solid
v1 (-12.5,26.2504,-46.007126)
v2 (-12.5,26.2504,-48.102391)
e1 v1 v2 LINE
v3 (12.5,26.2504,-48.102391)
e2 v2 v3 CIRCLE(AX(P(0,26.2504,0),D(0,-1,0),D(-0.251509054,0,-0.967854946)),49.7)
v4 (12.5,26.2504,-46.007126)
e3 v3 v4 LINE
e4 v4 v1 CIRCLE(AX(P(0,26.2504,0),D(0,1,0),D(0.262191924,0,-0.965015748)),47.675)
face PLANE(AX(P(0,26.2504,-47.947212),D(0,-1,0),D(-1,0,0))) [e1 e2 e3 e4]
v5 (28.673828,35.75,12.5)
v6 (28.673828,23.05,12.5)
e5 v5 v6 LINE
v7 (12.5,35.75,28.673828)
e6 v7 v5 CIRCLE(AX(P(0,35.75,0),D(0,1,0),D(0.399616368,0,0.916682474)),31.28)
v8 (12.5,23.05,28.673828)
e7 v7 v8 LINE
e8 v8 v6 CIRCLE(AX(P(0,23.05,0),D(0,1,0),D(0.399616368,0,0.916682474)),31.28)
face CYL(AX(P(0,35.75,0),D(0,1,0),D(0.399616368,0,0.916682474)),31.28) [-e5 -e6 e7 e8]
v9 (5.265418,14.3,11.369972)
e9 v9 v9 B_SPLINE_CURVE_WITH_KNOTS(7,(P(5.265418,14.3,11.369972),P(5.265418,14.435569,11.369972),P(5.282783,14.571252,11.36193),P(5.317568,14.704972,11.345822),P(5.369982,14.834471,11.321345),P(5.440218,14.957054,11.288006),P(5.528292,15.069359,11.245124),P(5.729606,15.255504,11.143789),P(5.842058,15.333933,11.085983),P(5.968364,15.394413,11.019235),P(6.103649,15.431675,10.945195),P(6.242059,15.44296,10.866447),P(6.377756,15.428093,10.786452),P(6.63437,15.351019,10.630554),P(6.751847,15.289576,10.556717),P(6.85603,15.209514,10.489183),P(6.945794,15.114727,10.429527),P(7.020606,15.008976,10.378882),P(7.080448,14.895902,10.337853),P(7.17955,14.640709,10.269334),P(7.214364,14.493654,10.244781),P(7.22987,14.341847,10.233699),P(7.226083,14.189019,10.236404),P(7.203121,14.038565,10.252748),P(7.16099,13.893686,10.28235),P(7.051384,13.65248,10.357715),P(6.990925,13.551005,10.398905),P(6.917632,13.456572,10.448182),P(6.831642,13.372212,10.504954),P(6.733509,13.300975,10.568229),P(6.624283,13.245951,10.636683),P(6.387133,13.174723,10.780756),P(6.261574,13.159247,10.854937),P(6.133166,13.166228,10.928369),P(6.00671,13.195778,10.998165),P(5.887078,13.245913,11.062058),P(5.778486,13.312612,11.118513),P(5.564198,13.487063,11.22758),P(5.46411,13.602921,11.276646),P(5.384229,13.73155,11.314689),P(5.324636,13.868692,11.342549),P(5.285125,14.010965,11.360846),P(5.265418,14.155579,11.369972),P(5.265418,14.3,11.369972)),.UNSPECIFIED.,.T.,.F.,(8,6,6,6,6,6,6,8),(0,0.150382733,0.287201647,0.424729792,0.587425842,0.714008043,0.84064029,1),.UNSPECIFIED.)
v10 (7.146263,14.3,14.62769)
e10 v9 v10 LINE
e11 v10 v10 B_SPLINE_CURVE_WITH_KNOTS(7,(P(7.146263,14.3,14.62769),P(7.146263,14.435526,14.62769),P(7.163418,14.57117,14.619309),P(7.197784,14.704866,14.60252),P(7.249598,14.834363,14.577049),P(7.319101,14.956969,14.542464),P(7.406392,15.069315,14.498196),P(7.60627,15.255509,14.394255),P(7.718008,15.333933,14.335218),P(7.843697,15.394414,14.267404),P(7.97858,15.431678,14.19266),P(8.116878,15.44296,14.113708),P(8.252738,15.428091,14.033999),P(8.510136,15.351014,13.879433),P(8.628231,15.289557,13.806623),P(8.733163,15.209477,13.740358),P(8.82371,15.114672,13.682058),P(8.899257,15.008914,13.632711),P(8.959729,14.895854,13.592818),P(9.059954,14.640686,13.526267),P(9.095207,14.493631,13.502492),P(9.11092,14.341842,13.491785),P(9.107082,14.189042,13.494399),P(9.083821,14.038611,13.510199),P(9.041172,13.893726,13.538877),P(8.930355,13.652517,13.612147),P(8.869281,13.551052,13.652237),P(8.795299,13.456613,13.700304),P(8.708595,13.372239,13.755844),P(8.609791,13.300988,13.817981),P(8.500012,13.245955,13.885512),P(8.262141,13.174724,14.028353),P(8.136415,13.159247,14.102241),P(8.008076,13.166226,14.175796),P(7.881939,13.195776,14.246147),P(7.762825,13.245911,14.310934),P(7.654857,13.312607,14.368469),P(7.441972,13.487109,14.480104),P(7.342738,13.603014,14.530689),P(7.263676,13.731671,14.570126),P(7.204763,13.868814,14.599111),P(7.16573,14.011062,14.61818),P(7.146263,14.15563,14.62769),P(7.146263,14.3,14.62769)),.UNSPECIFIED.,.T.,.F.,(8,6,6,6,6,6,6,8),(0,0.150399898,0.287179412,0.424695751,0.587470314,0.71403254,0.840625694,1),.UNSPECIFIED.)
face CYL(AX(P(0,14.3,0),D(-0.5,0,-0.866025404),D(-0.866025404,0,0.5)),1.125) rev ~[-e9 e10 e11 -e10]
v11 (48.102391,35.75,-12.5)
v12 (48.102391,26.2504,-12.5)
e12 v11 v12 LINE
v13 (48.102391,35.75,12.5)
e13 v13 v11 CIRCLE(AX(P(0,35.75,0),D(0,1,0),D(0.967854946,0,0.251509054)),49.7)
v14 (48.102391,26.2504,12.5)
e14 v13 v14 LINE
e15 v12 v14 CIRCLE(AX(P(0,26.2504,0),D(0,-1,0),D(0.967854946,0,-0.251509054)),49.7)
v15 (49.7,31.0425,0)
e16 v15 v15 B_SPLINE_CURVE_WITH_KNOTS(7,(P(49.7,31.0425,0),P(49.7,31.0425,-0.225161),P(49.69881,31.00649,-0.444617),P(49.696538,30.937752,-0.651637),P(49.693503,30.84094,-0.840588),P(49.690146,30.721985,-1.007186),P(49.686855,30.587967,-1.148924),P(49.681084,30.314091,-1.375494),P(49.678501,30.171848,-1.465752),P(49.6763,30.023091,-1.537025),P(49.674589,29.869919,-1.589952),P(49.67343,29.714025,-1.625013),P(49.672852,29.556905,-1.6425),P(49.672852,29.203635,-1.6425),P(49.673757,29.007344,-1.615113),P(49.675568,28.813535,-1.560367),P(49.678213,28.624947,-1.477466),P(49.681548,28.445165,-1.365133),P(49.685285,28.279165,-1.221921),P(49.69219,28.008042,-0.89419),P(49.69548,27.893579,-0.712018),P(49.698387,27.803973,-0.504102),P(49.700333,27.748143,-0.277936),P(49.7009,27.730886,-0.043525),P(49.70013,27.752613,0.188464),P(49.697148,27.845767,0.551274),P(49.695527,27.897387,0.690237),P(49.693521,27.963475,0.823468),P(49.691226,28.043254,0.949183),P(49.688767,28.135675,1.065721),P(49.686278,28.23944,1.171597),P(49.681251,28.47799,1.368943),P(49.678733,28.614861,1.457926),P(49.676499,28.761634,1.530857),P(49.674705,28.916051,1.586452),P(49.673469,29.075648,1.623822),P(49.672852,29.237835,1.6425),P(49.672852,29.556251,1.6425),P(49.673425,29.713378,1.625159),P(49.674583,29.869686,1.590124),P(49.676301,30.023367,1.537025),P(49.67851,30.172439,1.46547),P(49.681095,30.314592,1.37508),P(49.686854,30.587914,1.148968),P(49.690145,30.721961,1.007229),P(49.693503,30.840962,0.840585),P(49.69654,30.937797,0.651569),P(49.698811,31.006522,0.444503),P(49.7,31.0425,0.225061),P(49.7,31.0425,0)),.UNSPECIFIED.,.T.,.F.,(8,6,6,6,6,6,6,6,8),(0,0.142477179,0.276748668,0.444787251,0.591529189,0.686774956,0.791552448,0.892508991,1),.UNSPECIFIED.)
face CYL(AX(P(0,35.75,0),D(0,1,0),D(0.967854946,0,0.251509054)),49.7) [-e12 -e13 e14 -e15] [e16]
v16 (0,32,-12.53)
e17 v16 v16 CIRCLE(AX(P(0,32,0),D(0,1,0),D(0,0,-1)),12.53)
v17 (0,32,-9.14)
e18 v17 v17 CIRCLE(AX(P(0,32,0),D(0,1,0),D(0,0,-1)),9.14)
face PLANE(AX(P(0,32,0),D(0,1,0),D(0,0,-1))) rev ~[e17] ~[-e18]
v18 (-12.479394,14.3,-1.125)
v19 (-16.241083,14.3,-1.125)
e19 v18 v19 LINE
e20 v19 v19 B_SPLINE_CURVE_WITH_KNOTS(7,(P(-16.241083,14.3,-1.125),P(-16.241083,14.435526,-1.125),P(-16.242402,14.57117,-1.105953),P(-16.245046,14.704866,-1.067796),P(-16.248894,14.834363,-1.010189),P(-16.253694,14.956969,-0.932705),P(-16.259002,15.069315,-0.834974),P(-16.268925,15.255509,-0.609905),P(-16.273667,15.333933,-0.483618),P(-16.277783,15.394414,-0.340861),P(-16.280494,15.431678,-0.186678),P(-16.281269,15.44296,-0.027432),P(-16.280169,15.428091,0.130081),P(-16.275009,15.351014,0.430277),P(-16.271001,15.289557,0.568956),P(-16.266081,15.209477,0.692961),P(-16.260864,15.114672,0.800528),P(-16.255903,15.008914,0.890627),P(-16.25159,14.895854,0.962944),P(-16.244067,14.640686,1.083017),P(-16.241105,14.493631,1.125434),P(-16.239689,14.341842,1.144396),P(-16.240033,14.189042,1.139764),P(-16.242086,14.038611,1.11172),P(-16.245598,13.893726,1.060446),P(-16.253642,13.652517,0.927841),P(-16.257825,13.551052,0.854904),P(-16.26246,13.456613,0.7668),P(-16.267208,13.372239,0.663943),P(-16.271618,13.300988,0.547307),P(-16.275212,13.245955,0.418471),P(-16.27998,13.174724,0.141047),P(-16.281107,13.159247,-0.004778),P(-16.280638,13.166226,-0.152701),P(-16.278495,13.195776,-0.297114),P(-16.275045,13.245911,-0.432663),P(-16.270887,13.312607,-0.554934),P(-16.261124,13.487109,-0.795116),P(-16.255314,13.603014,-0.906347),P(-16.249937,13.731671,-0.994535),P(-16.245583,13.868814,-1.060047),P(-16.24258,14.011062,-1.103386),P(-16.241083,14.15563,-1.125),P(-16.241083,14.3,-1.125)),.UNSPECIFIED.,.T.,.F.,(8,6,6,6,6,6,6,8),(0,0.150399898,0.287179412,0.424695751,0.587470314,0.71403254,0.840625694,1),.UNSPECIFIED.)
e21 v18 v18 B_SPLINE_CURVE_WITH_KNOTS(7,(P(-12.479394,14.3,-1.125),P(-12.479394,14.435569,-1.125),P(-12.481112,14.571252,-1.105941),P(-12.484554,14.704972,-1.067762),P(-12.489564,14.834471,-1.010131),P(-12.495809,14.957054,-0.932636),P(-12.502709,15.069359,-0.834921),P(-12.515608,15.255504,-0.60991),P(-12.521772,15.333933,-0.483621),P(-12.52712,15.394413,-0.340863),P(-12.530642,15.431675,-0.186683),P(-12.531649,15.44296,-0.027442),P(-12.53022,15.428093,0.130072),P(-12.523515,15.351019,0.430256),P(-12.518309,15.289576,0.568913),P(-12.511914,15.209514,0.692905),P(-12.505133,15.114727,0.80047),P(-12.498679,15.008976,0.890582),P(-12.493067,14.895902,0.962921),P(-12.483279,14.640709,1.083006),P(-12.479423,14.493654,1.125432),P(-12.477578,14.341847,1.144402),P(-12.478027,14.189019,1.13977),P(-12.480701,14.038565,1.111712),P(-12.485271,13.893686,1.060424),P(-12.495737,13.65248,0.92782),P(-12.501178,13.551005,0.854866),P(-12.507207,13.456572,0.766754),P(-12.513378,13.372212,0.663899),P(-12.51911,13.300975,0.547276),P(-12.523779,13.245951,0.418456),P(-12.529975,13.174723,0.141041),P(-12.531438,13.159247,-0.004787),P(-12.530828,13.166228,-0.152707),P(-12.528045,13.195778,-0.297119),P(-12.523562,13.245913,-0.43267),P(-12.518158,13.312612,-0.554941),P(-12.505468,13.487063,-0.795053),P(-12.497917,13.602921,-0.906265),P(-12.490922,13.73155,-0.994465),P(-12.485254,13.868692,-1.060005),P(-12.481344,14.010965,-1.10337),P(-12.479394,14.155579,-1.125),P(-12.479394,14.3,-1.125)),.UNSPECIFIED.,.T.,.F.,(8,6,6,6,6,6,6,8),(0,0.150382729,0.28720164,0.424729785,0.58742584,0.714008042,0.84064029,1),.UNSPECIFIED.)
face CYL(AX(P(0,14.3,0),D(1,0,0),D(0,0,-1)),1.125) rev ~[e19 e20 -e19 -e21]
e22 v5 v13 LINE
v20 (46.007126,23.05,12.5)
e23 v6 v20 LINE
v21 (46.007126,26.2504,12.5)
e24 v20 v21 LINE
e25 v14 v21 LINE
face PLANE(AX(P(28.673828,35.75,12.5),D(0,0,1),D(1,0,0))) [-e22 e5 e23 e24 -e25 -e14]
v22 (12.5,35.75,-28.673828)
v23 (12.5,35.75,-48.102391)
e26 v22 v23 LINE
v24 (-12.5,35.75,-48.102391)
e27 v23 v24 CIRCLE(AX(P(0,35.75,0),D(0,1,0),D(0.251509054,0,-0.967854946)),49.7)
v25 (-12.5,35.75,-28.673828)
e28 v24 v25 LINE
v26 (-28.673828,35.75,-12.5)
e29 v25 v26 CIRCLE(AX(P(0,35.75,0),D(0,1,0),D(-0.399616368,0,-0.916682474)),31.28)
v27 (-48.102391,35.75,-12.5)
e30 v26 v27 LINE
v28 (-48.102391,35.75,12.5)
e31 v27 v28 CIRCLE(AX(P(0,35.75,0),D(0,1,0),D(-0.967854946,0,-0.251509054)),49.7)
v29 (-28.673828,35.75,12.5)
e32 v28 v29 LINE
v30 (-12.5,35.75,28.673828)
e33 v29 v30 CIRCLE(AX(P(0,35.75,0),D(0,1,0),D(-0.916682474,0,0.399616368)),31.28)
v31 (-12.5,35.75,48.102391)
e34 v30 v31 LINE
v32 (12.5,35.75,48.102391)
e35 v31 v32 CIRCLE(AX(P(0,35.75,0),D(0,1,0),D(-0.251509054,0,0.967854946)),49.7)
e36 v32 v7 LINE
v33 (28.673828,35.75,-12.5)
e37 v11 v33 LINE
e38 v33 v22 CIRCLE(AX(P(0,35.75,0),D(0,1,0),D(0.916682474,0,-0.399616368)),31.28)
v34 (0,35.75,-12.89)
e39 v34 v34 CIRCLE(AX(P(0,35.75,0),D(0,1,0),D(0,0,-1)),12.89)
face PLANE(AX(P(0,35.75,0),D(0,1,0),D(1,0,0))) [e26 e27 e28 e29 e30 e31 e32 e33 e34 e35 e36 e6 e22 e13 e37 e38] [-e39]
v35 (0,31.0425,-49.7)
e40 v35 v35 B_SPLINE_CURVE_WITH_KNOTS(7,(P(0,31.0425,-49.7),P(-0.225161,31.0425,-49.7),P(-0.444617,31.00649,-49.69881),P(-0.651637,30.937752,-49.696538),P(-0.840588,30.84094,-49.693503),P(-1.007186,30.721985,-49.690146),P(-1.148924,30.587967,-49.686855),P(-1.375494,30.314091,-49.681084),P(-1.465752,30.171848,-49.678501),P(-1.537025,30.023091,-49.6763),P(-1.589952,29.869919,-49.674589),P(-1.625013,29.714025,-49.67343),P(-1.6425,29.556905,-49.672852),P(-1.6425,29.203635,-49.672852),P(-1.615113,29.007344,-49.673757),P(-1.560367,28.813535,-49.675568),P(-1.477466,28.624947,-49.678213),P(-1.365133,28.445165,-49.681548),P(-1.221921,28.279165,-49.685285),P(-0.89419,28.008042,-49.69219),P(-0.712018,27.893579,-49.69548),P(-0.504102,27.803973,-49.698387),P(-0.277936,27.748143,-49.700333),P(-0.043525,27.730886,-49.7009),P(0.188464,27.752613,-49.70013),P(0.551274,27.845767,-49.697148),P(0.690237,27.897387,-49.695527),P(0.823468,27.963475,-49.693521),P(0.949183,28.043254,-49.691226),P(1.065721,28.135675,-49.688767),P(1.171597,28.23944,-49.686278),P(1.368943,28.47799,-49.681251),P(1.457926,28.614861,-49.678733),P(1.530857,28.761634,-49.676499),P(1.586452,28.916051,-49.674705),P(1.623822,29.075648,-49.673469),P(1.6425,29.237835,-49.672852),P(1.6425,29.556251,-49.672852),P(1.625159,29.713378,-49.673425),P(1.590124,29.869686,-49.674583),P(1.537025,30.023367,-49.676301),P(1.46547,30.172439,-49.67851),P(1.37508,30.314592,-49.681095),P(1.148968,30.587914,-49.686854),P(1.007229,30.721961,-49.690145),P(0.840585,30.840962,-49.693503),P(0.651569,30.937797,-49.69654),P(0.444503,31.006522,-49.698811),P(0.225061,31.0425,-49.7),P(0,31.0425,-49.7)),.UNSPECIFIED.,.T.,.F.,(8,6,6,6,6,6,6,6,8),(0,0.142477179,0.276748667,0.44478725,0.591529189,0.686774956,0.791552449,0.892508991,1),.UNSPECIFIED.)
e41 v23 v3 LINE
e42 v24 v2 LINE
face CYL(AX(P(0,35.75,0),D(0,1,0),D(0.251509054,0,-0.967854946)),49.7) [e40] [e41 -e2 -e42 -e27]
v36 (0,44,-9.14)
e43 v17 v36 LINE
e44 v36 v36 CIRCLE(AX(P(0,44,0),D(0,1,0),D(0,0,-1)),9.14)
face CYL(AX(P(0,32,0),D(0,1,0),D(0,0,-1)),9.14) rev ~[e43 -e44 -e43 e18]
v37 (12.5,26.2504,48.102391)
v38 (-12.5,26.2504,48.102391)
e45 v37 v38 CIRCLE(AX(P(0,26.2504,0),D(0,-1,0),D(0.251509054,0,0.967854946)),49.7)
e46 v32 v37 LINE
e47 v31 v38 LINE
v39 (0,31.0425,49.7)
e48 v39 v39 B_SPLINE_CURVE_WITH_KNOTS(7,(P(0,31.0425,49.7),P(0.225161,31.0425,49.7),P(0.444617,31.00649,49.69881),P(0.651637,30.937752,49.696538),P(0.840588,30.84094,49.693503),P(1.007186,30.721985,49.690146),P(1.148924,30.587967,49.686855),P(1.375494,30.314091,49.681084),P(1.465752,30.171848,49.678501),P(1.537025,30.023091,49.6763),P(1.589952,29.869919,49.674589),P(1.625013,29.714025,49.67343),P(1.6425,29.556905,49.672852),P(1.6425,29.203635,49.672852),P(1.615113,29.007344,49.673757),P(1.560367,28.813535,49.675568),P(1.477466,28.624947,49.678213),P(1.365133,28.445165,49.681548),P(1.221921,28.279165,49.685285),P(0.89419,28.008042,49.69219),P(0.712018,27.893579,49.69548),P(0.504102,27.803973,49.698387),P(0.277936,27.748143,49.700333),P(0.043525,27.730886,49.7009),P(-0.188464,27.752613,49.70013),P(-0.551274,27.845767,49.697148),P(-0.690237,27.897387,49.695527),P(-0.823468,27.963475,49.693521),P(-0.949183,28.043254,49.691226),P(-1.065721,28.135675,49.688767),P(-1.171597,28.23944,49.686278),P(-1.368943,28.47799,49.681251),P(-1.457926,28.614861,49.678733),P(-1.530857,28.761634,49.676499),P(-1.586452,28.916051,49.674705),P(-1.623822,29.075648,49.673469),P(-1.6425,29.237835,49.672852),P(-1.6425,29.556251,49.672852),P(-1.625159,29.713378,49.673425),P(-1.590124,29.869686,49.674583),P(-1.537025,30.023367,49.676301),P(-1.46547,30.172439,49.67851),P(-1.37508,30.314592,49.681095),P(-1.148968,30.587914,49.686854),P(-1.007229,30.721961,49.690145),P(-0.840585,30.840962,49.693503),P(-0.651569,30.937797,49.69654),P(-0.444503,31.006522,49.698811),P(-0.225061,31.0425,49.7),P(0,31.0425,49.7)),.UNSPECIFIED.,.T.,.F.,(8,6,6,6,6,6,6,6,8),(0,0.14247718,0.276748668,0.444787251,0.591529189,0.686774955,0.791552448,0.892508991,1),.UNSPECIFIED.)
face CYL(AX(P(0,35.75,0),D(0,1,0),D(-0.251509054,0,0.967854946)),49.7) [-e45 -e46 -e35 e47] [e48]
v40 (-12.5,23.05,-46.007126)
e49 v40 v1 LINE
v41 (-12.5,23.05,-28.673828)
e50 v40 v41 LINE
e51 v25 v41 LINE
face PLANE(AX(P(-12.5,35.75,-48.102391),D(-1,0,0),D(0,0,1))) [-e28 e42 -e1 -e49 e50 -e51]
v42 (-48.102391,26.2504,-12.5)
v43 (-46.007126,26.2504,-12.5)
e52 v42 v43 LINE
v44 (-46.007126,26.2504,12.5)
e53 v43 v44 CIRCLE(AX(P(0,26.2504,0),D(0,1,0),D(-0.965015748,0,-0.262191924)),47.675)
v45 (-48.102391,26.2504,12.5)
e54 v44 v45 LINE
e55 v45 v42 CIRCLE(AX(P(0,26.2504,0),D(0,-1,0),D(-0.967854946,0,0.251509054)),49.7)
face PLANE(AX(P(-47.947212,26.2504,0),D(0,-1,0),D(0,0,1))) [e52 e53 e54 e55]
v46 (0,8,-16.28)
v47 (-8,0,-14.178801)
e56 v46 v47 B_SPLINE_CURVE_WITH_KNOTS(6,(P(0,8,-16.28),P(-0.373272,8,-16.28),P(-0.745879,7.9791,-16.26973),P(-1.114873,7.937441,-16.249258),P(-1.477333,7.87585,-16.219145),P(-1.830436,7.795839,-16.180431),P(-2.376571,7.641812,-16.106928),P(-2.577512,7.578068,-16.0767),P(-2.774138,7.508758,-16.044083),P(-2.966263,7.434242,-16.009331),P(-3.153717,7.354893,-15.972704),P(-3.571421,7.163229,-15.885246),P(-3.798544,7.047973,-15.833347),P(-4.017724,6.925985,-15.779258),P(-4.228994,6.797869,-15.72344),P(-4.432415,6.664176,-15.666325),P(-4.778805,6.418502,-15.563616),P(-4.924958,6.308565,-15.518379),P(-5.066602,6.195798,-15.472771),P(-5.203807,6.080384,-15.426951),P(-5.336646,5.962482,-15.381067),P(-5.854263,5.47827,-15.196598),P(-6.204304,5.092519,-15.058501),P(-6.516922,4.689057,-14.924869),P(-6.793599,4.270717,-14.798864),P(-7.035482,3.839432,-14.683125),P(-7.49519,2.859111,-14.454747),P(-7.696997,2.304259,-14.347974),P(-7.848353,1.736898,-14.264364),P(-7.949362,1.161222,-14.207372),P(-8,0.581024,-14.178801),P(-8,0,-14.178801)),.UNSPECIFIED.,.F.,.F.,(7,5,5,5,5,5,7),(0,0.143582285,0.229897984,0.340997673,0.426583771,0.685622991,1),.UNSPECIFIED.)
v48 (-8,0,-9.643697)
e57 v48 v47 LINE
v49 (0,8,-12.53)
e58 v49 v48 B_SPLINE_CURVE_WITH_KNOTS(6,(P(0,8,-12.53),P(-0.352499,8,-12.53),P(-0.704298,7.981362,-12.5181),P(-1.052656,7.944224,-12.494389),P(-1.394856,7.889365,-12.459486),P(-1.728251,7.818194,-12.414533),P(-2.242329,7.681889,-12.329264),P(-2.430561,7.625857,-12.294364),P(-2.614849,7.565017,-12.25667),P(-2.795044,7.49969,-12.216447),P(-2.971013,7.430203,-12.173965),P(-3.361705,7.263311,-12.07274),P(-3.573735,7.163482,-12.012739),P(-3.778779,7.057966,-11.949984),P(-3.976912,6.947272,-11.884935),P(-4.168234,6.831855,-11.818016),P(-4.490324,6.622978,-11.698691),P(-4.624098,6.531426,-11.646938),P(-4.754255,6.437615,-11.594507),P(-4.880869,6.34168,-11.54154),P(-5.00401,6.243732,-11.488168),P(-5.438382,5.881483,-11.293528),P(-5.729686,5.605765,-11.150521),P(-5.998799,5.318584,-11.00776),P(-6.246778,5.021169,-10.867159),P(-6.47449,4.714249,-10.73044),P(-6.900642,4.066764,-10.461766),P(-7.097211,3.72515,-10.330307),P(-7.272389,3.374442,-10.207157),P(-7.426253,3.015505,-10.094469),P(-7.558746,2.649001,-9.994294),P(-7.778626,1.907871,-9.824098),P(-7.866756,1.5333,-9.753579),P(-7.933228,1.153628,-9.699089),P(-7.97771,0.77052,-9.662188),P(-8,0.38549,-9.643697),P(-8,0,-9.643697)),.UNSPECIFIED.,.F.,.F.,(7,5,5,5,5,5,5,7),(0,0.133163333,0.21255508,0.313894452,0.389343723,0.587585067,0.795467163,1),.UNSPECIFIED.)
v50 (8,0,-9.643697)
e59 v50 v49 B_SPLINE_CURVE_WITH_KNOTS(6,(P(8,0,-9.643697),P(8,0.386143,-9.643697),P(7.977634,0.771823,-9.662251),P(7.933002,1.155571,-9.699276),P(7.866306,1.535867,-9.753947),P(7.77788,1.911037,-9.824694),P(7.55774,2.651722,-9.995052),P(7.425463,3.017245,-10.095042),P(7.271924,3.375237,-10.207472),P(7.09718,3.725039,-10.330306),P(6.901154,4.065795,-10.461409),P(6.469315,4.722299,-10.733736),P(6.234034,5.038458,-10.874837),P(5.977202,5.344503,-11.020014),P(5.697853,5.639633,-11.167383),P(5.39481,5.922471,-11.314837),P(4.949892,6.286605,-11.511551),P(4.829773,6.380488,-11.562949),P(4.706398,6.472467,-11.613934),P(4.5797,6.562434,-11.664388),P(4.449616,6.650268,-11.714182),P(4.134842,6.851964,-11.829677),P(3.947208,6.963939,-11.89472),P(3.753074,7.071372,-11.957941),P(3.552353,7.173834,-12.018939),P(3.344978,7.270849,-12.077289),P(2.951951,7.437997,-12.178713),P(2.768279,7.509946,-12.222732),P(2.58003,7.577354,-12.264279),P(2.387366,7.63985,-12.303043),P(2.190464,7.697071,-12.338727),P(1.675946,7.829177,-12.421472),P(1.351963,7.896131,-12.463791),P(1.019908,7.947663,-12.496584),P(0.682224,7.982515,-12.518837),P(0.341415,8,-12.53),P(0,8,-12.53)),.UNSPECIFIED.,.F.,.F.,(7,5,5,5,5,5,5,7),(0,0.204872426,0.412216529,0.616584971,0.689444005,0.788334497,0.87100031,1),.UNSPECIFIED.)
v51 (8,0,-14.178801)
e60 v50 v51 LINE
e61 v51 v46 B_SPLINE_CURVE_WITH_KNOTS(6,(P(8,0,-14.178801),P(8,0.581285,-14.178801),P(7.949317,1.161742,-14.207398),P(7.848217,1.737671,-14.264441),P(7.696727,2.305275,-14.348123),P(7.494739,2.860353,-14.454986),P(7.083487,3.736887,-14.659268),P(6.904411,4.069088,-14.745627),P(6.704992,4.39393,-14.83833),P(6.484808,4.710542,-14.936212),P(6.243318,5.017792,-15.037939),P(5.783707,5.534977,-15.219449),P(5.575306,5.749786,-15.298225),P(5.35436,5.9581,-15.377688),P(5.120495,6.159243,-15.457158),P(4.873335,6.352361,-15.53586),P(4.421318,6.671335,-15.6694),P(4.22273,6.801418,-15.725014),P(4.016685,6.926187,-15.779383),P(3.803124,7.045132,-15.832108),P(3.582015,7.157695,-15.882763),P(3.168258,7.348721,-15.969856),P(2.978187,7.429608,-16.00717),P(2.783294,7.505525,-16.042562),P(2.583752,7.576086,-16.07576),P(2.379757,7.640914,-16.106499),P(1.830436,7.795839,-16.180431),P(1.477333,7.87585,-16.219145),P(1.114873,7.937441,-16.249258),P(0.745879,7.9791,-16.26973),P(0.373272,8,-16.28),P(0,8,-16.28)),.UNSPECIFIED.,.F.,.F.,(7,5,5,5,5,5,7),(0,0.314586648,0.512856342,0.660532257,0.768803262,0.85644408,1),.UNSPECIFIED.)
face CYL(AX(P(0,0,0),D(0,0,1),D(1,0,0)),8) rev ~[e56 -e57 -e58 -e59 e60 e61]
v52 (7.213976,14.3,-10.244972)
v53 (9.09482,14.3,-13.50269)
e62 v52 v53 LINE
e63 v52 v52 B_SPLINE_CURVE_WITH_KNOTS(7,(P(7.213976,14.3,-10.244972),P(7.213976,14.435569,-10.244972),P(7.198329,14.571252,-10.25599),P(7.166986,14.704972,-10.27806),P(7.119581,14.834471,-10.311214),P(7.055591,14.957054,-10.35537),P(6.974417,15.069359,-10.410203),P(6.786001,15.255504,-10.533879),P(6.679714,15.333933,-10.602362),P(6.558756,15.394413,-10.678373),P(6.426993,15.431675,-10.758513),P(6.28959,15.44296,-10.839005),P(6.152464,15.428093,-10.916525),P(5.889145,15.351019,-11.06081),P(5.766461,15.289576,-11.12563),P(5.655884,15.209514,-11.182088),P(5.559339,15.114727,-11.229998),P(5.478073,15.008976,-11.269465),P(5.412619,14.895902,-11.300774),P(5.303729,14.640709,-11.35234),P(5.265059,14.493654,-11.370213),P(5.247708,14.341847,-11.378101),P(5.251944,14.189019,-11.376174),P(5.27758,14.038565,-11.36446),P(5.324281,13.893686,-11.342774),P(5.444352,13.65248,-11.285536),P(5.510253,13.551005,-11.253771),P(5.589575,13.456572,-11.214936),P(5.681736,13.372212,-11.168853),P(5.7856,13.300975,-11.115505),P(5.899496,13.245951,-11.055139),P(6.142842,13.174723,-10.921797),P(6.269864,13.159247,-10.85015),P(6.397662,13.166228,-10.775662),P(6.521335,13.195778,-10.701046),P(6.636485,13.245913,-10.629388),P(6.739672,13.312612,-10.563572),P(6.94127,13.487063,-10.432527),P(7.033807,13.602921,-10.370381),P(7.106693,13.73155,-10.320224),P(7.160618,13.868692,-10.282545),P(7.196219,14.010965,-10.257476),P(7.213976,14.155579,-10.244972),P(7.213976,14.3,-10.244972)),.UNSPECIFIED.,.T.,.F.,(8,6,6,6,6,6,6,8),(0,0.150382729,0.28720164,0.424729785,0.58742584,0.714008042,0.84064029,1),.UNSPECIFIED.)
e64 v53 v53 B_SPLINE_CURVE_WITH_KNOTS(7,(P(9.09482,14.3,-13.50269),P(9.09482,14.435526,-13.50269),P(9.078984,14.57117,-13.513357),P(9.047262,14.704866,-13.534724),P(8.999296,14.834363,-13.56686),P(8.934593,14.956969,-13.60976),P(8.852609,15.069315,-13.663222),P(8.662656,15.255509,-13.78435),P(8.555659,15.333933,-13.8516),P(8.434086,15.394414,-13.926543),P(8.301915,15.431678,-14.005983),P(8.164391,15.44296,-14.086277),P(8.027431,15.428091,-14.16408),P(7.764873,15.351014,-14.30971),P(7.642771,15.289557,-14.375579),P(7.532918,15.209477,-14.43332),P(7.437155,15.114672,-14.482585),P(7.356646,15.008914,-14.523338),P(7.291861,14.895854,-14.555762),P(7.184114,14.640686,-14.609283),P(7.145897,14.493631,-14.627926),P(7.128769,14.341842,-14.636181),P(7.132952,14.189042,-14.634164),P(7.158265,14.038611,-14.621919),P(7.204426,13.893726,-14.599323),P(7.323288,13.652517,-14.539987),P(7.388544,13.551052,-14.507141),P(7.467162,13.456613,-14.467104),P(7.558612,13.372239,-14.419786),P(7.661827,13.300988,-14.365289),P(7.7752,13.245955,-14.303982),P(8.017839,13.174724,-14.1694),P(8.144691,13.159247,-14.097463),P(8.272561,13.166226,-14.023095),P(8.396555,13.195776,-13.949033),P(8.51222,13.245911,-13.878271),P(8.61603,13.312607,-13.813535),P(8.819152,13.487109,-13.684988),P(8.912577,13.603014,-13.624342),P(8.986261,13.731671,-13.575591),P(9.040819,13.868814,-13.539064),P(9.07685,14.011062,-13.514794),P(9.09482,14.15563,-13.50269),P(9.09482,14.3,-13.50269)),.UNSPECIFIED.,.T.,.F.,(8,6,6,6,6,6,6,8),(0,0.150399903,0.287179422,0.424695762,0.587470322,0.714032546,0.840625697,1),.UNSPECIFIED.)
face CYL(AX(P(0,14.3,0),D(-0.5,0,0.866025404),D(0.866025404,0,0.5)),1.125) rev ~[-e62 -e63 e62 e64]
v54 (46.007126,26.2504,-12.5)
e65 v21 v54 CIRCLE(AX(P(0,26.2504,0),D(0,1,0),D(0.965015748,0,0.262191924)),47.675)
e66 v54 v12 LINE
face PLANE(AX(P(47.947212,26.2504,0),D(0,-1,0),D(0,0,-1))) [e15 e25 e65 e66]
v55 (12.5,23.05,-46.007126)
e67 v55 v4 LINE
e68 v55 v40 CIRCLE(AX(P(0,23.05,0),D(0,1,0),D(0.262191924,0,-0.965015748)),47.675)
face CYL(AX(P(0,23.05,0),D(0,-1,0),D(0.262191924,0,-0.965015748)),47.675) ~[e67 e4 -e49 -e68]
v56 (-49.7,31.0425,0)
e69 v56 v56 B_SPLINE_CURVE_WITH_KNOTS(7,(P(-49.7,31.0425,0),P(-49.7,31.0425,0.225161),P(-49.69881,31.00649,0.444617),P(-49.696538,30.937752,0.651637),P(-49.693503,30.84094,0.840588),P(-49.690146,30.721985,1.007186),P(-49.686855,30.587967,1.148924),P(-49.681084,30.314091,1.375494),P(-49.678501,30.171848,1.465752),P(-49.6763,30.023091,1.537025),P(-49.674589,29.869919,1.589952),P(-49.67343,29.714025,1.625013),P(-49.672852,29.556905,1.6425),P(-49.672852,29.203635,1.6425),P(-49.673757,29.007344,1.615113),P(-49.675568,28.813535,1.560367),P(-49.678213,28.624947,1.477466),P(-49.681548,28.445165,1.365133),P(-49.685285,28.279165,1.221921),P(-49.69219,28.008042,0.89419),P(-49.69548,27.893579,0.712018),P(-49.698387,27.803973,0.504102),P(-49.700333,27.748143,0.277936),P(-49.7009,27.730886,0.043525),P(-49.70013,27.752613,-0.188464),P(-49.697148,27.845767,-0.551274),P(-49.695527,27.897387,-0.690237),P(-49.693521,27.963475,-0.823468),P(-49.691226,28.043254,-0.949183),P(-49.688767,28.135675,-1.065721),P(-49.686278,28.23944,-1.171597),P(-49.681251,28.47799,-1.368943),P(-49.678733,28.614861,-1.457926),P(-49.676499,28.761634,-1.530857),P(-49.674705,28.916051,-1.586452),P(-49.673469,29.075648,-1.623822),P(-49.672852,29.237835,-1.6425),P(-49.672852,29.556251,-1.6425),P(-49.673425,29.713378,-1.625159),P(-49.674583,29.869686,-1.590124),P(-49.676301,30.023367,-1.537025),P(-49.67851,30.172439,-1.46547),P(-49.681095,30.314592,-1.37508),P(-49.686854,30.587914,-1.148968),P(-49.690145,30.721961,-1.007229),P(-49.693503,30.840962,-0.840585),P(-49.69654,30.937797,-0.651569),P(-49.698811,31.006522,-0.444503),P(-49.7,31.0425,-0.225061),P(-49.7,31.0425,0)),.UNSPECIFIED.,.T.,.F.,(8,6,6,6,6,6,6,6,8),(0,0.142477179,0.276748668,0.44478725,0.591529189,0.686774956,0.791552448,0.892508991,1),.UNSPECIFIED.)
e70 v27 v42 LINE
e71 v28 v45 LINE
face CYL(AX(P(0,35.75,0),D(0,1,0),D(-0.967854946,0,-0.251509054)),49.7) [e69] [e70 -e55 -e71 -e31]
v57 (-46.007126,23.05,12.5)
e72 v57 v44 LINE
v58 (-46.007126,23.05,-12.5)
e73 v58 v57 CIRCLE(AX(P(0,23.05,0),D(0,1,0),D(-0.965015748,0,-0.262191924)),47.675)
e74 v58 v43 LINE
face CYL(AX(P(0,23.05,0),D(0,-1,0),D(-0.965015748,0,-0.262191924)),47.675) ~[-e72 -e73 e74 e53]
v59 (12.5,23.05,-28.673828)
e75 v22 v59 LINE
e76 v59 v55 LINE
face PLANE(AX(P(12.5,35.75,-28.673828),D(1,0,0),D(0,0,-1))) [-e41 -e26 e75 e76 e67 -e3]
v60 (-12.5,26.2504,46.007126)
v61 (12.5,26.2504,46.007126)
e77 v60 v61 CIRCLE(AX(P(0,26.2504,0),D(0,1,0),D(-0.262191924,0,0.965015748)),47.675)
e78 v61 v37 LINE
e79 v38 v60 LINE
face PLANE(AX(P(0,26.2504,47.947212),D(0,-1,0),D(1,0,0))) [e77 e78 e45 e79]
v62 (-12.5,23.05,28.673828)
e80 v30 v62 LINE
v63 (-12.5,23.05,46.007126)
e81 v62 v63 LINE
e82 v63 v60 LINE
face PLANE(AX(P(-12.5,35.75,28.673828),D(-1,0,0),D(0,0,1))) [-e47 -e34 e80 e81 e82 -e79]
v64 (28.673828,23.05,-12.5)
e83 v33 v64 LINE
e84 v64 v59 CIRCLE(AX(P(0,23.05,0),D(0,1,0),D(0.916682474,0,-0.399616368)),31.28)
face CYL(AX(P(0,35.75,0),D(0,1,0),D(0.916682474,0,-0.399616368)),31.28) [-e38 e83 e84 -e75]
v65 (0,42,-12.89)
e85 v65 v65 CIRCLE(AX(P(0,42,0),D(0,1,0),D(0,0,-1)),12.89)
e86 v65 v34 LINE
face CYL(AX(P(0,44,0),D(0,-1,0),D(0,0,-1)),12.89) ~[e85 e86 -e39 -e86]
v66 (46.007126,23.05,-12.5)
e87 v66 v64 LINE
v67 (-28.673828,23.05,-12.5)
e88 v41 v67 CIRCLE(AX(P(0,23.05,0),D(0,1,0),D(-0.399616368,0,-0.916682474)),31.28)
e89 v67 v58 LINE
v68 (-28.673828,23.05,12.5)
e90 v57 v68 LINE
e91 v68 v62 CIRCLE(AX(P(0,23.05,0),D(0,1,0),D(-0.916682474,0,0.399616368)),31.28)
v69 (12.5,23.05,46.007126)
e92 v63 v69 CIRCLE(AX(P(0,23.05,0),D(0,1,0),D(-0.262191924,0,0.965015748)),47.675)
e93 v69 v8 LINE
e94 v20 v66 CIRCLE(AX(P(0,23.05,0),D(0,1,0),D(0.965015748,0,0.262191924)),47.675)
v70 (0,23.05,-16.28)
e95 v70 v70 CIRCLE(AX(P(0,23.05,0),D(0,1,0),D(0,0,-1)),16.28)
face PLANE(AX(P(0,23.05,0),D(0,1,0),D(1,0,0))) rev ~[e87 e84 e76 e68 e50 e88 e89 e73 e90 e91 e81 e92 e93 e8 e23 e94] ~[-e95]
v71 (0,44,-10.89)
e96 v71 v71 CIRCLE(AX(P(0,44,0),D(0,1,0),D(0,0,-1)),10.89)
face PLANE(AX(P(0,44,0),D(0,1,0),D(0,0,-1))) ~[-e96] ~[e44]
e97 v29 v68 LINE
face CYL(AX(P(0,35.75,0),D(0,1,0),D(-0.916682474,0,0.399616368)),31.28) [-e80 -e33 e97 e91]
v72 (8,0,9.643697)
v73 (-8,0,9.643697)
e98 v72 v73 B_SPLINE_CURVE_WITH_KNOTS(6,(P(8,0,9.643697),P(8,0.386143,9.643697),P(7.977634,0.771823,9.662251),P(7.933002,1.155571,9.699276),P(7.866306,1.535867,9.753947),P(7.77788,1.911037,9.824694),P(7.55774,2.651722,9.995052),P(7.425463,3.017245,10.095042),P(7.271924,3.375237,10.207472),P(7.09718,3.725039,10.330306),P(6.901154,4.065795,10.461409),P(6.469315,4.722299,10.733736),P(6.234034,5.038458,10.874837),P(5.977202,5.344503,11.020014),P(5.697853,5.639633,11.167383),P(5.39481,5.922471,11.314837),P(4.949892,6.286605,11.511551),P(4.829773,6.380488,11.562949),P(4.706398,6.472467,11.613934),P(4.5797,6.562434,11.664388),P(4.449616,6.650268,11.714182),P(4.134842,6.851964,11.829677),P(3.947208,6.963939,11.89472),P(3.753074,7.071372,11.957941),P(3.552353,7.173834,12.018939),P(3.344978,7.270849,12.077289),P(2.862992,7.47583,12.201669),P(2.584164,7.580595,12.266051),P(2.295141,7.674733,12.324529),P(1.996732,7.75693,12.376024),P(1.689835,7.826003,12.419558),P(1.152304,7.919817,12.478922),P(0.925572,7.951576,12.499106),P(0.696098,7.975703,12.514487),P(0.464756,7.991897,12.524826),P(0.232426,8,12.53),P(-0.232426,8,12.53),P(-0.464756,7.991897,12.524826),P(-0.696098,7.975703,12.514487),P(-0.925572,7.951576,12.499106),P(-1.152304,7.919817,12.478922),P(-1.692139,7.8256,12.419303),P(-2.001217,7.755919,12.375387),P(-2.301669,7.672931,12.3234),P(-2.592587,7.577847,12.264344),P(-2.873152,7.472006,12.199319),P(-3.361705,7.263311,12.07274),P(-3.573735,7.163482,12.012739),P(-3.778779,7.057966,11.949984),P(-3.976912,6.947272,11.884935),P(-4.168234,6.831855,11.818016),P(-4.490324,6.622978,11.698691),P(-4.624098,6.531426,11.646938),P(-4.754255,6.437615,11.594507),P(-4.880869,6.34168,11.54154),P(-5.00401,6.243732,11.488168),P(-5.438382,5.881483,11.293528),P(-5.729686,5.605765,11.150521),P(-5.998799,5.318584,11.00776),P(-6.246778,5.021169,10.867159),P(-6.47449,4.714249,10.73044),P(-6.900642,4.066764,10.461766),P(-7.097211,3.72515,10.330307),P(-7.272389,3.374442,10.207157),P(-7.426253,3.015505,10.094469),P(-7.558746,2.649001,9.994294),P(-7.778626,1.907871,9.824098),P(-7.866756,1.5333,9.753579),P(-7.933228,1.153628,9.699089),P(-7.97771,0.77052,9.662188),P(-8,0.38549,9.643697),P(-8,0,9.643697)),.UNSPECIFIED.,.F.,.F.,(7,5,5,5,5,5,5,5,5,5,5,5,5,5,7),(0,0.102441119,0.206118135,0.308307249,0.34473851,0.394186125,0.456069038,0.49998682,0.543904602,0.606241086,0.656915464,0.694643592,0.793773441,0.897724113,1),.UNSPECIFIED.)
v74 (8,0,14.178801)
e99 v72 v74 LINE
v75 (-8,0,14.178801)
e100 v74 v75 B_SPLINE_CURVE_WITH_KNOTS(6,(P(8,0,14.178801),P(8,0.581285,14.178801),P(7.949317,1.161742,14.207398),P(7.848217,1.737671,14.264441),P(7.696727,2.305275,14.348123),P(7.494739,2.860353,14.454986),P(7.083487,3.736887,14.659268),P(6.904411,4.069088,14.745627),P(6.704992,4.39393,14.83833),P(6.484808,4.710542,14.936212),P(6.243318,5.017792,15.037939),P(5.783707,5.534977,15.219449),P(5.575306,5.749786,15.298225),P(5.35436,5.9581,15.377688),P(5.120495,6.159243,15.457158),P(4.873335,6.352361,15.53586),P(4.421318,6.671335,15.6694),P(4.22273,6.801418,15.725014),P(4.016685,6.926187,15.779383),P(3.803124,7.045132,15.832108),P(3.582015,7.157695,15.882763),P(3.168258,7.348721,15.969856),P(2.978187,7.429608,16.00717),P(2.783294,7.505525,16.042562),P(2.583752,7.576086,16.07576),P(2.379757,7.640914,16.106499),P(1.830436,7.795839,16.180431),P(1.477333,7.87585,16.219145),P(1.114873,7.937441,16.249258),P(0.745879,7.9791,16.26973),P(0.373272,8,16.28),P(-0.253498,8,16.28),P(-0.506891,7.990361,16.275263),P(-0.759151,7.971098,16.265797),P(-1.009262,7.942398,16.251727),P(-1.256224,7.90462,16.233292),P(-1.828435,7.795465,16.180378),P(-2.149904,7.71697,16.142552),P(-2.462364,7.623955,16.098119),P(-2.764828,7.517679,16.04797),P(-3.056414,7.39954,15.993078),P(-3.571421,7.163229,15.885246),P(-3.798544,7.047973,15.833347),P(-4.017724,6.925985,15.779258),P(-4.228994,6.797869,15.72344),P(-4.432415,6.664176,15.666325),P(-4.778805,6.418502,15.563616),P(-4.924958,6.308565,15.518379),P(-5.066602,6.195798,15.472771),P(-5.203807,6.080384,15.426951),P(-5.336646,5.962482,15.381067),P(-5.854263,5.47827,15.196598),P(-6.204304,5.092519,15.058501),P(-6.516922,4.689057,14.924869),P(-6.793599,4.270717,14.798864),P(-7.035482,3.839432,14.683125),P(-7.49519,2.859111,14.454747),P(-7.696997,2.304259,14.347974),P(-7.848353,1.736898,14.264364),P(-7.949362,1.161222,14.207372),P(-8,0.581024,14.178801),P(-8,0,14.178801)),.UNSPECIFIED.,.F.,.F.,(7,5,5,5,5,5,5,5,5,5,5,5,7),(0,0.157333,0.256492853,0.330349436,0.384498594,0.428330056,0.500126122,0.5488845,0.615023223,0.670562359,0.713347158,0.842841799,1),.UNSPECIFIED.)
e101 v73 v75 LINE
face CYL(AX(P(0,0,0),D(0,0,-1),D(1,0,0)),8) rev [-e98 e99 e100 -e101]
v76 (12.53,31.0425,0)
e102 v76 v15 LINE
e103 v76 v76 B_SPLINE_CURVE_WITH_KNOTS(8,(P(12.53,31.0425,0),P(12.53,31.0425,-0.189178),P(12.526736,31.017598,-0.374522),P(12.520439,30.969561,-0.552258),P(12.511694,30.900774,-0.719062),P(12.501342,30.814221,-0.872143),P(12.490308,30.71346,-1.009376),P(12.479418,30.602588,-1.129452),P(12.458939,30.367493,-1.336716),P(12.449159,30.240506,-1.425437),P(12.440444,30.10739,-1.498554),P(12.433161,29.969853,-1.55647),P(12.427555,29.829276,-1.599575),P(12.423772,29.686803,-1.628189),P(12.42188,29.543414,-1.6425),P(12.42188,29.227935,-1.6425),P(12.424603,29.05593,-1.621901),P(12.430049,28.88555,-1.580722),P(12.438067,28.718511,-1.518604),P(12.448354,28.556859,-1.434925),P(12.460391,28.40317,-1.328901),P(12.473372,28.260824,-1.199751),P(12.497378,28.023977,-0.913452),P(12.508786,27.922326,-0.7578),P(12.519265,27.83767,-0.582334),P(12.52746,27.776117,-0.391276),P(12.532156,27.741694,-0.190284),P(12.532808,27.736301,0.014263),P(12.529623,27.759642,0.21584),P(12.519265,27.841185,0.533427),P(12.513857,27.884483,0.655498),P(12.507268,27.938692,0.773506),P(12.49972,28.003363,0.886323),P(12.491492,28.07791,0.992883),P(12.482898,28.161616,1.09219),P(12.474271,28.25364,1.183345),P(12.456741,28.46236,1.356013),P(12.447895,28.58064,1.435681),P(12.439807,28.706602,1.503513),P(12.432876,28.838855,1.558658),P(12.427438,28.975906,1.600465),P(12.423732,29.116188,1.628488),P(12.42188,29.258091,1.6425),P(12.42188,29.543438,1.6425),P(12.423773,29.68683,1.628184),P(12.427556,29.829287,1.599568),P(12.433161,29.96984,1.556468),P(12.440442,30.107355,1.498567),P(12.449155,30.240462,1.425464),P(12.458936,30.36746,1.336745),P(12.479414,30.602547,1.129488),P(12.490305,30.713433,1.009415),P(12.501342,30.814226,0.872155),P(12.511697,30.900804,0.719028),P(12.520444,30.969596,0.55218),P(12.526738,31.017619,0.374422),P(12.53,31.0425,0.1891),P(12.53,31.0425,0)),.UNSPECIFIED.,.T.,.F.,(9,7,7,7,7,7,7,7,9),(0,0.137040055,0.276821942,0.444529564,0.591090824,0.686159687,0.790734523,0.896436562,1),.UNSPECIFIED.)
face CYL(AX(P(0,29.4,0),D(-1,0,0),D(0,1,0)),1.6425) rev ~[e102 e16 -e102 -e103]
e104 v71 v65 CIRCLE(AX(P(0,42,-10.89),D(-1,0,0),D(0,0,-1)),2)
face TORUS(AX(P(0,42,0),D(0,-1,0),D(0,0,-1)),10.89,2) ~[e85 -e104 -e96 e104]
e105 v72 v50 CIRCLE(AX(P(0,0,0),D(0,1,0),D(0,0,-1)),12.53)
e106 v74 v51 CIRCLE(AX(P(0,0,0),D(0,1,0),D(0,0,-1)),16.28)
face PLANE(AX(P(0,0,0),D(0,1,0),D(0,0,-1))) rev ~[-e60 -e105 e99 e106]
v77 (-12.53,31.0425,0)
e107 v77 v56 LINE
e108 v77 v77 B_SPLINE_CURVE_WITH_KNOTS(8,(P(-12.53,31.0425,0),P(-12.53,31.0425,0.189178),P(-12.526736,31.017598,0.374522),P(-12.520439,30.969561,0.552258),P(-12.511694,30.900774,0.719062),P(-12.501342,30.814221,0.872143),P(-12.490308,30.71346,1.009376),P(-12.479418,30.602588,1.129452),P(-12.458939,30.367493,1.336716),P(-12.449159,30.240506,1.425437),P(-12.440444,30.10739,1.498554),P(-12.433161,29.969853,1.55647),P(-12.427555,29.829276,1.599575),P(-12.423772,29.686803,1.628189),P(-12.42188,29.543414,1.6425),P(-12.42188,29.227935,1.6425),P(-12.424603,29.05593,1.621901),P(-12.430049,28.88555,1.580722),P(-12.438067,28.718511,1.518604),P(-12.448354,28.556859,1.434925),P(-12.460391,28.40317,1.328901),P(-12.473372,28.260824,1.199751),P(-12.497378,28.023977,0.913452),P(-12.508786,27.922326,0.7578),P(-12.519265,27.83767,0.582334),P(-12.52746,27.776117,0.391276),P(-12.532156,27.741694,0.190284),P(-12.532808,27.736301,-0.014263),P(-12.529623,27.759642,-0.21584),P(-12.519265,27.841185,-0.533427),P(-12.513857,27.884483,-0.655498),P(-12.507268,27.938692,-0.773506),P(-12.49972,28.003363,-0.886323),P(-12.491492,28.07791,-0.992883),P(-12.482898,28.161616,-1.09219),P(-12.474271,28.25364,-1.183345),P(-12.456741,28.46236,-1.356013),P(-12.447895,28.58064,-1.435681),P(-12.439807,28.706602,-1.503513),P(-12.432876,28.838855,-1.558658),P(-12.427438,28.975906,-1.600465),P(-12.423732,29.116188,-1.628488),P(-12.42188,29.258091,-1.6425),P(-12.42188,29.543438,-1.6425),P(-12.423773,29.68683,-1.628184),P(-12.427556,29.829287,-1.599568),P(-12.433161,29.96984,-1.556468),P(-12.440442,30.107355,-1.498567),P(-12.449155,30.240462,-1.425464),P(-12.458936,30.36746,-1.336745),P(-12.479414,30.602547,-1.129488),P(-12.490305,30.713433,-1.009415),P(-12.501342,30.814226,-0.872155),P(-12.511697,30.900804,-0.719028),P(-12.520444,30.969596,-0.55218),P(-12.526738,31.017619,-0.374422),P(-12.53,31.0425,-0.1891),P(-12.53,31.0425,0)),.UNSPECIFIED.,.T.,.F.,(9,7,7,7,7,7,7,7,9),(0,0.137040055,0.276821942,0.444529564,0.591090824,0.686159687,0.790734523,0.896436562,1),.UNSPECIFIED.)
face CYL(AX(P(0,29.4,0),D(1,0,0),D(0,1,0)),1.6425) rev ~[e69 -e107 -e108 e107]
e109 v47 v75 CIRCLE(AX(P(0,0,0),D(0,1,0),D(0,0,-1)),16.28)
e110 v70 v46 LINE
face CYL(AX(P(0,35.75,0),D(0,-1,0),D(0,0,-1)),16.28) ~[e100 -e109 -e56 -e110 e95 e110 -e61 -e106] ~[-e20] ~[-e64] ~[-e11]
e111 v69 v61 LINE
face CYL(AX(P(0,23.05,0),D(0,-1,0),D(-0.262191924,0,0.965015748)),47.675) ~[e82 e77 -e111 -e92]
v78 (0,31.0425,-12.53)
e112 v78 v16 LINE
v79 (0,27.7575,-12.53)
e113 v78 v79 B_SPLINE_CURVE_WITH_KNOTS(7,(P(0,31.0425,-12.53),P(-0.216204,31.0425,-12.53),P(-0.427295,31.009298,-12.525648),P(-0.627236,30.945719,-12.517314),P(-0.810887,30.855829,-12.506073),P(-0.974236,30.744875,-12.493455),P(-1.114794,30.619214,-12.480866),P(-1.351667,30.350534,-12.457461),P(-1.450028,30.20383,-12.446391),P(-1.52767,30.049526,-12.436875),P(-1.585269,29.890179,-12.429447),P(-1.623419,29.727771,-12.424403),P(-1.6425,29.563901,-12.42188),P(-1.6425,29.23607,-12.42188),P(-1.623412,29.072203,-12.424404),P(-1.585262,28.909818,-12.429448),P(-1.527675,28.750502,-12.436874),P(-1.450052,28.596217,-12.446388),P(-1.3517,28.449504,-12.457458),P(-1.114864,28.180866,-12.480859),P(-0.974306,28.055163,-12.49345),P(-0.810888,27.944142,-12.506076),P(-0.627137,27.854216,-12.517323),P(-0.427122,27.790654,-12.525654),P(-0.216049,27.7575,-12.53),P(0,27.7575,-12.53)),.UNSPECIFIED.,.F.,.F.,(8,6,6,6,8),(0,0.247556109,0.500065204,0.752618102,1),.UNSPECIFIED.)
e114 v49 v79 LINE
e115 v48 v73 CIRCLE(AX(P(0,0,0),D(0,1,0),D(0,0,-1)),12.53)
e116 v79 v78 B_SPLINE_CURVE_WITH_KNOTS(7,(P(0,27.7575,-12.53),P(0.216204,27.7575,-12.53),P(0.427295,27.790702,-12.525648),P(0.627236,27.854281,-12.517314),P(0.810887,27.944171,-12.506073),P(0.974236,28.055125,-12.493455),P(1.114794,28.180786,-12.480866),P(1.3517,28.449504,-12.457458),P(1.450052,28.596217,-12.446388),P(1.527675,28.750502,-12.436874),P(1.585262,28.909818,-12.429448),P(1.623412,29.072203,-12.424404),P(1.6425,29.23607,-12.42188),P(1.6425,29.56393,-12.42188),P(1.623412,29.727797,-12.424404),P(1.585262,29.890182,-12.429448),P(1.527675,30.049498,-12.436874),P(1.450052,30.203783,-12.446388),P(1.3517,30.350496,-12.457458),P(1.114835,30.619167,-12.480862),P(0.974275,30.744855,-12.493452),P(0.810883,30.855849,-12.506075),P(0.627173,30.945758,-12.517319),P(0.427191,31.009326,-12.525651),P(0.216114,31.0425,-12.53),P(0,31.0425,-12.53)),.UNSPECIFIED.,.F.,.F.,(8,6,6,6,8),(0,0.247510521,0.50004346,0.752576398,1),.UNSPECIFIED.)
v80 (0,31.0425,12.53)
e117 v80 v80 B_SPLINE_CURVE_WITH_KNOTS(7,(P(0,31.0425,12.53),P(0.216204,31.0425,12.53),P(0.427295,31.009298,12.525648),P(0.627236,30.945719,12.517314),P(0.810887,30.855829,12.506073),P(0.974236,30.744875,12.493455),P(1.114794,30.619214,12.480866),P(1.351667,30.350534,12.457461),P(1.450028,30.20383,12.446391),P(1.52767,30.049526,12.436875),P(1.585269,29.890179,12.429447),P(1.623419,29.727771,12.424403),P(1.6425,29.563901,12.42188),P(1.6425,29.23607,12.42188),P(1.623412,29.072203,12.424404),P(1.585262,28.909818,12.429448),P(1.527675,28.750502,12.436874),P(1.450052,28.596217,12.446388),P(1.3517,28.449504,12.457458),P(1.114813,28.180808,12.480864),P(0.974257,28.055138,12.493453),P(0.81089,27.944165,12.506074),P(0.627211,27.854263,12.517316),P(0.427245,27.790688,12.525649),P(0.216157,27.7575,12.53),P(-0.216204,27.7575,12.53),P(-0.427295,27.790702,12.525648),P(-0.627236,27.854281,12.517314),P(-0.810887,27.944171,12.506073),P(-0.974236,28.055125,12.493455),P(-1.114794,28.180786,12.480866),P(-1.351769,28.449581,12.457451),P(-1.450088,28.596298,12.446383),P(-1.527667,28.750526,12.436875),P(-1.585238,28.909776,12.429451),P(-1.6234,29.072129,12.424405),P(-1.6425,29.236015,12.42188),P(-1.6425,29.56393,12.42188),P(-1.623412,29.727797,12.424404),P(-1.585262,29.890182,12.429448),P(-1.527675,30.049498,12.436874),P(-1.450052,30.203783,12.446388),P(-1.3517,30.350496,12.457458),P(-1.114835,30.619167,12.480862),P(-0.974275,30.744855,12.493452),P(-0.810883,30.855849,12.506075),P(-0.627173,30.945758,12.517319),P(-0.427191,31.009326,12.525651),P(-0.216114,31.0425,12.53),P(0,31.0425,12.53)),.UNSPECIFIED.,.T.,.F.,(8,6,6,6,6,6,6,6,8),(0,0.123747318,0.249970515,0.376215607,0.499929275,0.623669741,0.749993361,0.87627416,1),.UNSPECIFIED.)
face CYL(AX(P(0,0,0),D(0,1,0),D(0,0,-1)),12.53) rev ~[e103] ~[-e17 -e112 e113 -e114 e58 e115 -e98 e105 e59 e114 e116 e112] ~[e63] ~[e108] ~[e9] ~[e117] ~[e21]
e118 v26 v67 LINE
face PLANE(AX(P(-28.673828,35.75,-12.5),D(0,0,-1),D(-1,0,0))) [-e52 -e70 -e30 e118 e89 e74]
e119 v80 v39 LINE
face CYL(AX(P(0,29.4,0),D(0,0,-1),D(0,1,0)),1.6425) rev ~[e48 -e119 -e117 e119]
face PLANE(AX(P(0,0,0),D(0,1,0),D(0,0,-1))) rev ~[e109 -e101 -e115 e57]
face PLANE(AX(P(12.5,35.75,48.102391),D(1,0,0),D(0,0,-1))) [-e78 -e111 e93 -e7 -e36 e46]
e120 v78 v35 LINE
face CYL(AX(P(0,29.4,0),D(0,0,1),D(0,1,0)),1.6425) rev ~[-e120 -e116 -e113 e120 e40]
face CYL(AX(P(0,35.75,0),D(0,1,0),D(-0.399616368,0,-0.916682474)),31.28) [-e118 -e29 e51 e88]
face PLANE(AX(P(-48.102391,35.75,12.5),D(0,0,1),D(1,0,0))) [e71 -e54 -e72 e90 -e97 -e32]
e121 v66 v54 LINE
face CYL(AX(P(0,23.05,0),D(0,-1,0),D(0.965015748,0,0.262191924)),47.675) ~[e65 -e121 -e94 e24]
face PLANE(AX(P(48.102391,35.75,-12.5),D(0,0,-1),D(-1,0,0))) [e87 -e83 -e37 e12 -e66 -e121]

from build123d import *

# Parameters (mm, degrees)
CUT_EXTRUDE3_DEPTH      = 17.28
CUT_EXTRUDE3_DEPTH_BACK = 17.28
SKETCH3_R               = 1.125
CUT_EXTRUDE4_DEPTH      = 17.2800001
CIRPATTERN1_COUNT       = 3
FILLET4_R               = 2
SKETCH4_R               = 16.28
BOSS_EXTRUDE1_DEPTH     = 12.7
SKETCH5_R               = 1.6425
CUT_EXTRUDE5_DEPTH      = 50.7
CUT_EXTRUDE6_DEPTH      = 3.2004
CIRPATTERN2_COUNT       = 4
CIRPATTERN3_COUNT       = 4


with BuildPart() as part:
    # Sketch1 → Revolve1 (revolve)
    with BuildSketch(Plane.XY, mode=Mode.PRIVATE) as revolve1_sk:
        Polygon((9.14, 44), (12.89, 44), (12.89, 35.75), (16.28, 35.75), (16.28, 0), (12.53, 0), (12.53, 32), (9.14, 32), align=None)
    revolve(revolve1_sk.sketch.rotate(Axis((0, 0, 0), (0, 1, 0)), 90), axis=Axis((0, 0, 0), (0, 1, 0)))  # turned: the seam where the file's is

    # Sketch2 → Cut-Extrude3 (cut, two sides)
    with BuildSketch(Plane.XY) as cut_extrude3_sk:
        with BuildLine():
            Line((-8, 0), (8, 0))
            ThreePointArc((8, 0), (0, 8), (-8, 0))
        make_face()
    extrude(amount=CUT_EXTRUDE3_DEPTH, mode=Mode.SUBTRACT)
    extrude(cut_extrude3_sk.sketch, amount=-CUT_EXTRUDE3_DEPTH_BACK, mode=Mode.SUBTRACT)

    # Sketch3 → Cut-Extrude4 (cut, through all)
    with BuildSketch(Plane(origin=(0, 0, 0), x_dir=(0, 0, -1), z_dir=(1, 0, 0))):
        with Locations((0, 14.3)):
            Circle(SKETCH3_R)
    cut_extrude4 = extrude(amount=-CUT_EXTRUDE4_DEPTH, mode=Mode.SUBTRACT)

    # CirPattern1: Cut-Extrude4 ×3 about axis
    cirpattern1_axis = Axis((0, 46.725, 0), (0, -1, 0))
    for i in range(1, CIRPATTERN1_COUNT):
        add(cut_extrude4.rotate(cirpattern1_axis, i * 360 / CIRPATTERN1_COUNT), mode=Mode.SUBTRACT)

    # Fillet4
    fillet4_edges = [part.edges().sort_by_distance(p)[0] for p in [
        (0, 44, 12.89),
    ]]
    fillet(fillet4_edges, radius=FILLET4_R)

    # Sketch4 → Boss-Extrude1 (add)
    with BuildSketch(Plane(origin=(0, 35.75, 0), x_dir=(1, 0, 0), z_dir=(0, 1, 0))):
        with BuildLine():
            Line((-12.5, 48.102390793), (-12.5, 28.673827788))
            ThreePointArc((-12.5, 28.673827788), (-22.118300116, 22.118300116), (-28.673827788, 12.5))
            Line((-28.673827788, 12.5), (-48.102390793, 12.5))
            ThreePointArc((-48.102390793, 12.5), (-49.7, 0), (-48.102390793, -12.5))
            Line((-48.102390793, -12.5), (-28.673827788, -12.5))
            ThreePointArc((-28.673827788, -12.5), (-22.118300116, -22.118300116), (-12.5, -28.673827788))
            Line((-12.5, -28.673827788), (-12.5, -48.102390793))
            ThreePointArc((-12.5, -48.102390793), (0, -49.7), (12.5, -48.102390793))
            Line((12.5, -48.102390793), (12.5, -28.673827788))
            ThreePointArc((12.5, -28.673827788), (22.118300116, -22.118300116), (28.673827788, -12.5))
            Line((28.673827788, -12.5), (48.102390793, -12.5))
            ThreePointArc((48.102390793, -12.5), (49.7, 0), (48.102390793, 12.5))
            Line((48.102390793, 12.5), (28.673827788, 12.5))
            ThreePointArc((28.673827788, 12.5), (22.118300116, 22.118300116), (12.5, 28.673827788))
            Line((12.5, 28.673827788), (12.5, 48.102390793))
            ThreePointArc((12.5, 48.102390793), (0, 49.7), (-12.5, 48.102390793))
        make_face()
        with Locations(Location((0, 0, 0), (0, 0, 119.432673442))):  # turned: the seam where the file's is
            Circle(SKETCH4_R, mode=Mode.SUBTRACT)
    extrude(amount=-BOSS_EXTRUDE1_DEPTH)

    # Sketch5 → Cut-Extrude5 (cut, through all)
    with BuildSketch(Plane.XY):
        with Locations(Location((0, 29.4, 0), (0, 0, 90))):  # turned: the seam where the file's is
            Circle(SKETCH5_R)
    cut_extrude5 = extrude(amount=-CUT_EXTRUDE5_DEPTH, mode=Mode.SUBTRACT)

    # Sketch6 → Cut-Extrude6 (cut)
    with BuildSketch(Plane.XZ.offset(-23.05)):
        with BuildLine():
            Line((-12.5, 48.102390793), (-12.5, 46.007125807))
            ThreePointArc((-12.5, 46.007125807), (0, 47.675), (12.5, 46.007125807))
            Line((12.5, 46.007125807), (12.5, 48.102390793))
            ThreePointArc((12.5, 48.102390793), (0, 49.7), (-12.5, 48.102390793))
        make_face()
    cut_extrude6 = extrude(amount=-CUT_EXTRUDE6_DEPTH, mode=Mode.SUBTRACT)

    # CirPattern2: Cut-Extrude5 ×4 about axis
    cirpattern2_axis = Axis((0, 46.725, 0), (0, -1, 0))
    for i in range(1, CIRPATTERN2_COUNT):
        add(cut_extrude5.rotate(cirpattern2_axis, i * 360 / CIRPATTERN2_COUNT), mode=Mode.SUBTRACT)

    # CirPattern3: Cut-Extrude6 ×4 about axis
    cirpattern3_axis = Axis((0, 46.725, 0), (0, -1, 0))
    for i in range(1, CIRPATTERN3_COUNT):
        add(cut_extrude6.rotate(cirpattern3_axis, i * 360 / CIRPATTERN3_COUNT), mode=Mode.SUBTRACT)


solid = part.part
